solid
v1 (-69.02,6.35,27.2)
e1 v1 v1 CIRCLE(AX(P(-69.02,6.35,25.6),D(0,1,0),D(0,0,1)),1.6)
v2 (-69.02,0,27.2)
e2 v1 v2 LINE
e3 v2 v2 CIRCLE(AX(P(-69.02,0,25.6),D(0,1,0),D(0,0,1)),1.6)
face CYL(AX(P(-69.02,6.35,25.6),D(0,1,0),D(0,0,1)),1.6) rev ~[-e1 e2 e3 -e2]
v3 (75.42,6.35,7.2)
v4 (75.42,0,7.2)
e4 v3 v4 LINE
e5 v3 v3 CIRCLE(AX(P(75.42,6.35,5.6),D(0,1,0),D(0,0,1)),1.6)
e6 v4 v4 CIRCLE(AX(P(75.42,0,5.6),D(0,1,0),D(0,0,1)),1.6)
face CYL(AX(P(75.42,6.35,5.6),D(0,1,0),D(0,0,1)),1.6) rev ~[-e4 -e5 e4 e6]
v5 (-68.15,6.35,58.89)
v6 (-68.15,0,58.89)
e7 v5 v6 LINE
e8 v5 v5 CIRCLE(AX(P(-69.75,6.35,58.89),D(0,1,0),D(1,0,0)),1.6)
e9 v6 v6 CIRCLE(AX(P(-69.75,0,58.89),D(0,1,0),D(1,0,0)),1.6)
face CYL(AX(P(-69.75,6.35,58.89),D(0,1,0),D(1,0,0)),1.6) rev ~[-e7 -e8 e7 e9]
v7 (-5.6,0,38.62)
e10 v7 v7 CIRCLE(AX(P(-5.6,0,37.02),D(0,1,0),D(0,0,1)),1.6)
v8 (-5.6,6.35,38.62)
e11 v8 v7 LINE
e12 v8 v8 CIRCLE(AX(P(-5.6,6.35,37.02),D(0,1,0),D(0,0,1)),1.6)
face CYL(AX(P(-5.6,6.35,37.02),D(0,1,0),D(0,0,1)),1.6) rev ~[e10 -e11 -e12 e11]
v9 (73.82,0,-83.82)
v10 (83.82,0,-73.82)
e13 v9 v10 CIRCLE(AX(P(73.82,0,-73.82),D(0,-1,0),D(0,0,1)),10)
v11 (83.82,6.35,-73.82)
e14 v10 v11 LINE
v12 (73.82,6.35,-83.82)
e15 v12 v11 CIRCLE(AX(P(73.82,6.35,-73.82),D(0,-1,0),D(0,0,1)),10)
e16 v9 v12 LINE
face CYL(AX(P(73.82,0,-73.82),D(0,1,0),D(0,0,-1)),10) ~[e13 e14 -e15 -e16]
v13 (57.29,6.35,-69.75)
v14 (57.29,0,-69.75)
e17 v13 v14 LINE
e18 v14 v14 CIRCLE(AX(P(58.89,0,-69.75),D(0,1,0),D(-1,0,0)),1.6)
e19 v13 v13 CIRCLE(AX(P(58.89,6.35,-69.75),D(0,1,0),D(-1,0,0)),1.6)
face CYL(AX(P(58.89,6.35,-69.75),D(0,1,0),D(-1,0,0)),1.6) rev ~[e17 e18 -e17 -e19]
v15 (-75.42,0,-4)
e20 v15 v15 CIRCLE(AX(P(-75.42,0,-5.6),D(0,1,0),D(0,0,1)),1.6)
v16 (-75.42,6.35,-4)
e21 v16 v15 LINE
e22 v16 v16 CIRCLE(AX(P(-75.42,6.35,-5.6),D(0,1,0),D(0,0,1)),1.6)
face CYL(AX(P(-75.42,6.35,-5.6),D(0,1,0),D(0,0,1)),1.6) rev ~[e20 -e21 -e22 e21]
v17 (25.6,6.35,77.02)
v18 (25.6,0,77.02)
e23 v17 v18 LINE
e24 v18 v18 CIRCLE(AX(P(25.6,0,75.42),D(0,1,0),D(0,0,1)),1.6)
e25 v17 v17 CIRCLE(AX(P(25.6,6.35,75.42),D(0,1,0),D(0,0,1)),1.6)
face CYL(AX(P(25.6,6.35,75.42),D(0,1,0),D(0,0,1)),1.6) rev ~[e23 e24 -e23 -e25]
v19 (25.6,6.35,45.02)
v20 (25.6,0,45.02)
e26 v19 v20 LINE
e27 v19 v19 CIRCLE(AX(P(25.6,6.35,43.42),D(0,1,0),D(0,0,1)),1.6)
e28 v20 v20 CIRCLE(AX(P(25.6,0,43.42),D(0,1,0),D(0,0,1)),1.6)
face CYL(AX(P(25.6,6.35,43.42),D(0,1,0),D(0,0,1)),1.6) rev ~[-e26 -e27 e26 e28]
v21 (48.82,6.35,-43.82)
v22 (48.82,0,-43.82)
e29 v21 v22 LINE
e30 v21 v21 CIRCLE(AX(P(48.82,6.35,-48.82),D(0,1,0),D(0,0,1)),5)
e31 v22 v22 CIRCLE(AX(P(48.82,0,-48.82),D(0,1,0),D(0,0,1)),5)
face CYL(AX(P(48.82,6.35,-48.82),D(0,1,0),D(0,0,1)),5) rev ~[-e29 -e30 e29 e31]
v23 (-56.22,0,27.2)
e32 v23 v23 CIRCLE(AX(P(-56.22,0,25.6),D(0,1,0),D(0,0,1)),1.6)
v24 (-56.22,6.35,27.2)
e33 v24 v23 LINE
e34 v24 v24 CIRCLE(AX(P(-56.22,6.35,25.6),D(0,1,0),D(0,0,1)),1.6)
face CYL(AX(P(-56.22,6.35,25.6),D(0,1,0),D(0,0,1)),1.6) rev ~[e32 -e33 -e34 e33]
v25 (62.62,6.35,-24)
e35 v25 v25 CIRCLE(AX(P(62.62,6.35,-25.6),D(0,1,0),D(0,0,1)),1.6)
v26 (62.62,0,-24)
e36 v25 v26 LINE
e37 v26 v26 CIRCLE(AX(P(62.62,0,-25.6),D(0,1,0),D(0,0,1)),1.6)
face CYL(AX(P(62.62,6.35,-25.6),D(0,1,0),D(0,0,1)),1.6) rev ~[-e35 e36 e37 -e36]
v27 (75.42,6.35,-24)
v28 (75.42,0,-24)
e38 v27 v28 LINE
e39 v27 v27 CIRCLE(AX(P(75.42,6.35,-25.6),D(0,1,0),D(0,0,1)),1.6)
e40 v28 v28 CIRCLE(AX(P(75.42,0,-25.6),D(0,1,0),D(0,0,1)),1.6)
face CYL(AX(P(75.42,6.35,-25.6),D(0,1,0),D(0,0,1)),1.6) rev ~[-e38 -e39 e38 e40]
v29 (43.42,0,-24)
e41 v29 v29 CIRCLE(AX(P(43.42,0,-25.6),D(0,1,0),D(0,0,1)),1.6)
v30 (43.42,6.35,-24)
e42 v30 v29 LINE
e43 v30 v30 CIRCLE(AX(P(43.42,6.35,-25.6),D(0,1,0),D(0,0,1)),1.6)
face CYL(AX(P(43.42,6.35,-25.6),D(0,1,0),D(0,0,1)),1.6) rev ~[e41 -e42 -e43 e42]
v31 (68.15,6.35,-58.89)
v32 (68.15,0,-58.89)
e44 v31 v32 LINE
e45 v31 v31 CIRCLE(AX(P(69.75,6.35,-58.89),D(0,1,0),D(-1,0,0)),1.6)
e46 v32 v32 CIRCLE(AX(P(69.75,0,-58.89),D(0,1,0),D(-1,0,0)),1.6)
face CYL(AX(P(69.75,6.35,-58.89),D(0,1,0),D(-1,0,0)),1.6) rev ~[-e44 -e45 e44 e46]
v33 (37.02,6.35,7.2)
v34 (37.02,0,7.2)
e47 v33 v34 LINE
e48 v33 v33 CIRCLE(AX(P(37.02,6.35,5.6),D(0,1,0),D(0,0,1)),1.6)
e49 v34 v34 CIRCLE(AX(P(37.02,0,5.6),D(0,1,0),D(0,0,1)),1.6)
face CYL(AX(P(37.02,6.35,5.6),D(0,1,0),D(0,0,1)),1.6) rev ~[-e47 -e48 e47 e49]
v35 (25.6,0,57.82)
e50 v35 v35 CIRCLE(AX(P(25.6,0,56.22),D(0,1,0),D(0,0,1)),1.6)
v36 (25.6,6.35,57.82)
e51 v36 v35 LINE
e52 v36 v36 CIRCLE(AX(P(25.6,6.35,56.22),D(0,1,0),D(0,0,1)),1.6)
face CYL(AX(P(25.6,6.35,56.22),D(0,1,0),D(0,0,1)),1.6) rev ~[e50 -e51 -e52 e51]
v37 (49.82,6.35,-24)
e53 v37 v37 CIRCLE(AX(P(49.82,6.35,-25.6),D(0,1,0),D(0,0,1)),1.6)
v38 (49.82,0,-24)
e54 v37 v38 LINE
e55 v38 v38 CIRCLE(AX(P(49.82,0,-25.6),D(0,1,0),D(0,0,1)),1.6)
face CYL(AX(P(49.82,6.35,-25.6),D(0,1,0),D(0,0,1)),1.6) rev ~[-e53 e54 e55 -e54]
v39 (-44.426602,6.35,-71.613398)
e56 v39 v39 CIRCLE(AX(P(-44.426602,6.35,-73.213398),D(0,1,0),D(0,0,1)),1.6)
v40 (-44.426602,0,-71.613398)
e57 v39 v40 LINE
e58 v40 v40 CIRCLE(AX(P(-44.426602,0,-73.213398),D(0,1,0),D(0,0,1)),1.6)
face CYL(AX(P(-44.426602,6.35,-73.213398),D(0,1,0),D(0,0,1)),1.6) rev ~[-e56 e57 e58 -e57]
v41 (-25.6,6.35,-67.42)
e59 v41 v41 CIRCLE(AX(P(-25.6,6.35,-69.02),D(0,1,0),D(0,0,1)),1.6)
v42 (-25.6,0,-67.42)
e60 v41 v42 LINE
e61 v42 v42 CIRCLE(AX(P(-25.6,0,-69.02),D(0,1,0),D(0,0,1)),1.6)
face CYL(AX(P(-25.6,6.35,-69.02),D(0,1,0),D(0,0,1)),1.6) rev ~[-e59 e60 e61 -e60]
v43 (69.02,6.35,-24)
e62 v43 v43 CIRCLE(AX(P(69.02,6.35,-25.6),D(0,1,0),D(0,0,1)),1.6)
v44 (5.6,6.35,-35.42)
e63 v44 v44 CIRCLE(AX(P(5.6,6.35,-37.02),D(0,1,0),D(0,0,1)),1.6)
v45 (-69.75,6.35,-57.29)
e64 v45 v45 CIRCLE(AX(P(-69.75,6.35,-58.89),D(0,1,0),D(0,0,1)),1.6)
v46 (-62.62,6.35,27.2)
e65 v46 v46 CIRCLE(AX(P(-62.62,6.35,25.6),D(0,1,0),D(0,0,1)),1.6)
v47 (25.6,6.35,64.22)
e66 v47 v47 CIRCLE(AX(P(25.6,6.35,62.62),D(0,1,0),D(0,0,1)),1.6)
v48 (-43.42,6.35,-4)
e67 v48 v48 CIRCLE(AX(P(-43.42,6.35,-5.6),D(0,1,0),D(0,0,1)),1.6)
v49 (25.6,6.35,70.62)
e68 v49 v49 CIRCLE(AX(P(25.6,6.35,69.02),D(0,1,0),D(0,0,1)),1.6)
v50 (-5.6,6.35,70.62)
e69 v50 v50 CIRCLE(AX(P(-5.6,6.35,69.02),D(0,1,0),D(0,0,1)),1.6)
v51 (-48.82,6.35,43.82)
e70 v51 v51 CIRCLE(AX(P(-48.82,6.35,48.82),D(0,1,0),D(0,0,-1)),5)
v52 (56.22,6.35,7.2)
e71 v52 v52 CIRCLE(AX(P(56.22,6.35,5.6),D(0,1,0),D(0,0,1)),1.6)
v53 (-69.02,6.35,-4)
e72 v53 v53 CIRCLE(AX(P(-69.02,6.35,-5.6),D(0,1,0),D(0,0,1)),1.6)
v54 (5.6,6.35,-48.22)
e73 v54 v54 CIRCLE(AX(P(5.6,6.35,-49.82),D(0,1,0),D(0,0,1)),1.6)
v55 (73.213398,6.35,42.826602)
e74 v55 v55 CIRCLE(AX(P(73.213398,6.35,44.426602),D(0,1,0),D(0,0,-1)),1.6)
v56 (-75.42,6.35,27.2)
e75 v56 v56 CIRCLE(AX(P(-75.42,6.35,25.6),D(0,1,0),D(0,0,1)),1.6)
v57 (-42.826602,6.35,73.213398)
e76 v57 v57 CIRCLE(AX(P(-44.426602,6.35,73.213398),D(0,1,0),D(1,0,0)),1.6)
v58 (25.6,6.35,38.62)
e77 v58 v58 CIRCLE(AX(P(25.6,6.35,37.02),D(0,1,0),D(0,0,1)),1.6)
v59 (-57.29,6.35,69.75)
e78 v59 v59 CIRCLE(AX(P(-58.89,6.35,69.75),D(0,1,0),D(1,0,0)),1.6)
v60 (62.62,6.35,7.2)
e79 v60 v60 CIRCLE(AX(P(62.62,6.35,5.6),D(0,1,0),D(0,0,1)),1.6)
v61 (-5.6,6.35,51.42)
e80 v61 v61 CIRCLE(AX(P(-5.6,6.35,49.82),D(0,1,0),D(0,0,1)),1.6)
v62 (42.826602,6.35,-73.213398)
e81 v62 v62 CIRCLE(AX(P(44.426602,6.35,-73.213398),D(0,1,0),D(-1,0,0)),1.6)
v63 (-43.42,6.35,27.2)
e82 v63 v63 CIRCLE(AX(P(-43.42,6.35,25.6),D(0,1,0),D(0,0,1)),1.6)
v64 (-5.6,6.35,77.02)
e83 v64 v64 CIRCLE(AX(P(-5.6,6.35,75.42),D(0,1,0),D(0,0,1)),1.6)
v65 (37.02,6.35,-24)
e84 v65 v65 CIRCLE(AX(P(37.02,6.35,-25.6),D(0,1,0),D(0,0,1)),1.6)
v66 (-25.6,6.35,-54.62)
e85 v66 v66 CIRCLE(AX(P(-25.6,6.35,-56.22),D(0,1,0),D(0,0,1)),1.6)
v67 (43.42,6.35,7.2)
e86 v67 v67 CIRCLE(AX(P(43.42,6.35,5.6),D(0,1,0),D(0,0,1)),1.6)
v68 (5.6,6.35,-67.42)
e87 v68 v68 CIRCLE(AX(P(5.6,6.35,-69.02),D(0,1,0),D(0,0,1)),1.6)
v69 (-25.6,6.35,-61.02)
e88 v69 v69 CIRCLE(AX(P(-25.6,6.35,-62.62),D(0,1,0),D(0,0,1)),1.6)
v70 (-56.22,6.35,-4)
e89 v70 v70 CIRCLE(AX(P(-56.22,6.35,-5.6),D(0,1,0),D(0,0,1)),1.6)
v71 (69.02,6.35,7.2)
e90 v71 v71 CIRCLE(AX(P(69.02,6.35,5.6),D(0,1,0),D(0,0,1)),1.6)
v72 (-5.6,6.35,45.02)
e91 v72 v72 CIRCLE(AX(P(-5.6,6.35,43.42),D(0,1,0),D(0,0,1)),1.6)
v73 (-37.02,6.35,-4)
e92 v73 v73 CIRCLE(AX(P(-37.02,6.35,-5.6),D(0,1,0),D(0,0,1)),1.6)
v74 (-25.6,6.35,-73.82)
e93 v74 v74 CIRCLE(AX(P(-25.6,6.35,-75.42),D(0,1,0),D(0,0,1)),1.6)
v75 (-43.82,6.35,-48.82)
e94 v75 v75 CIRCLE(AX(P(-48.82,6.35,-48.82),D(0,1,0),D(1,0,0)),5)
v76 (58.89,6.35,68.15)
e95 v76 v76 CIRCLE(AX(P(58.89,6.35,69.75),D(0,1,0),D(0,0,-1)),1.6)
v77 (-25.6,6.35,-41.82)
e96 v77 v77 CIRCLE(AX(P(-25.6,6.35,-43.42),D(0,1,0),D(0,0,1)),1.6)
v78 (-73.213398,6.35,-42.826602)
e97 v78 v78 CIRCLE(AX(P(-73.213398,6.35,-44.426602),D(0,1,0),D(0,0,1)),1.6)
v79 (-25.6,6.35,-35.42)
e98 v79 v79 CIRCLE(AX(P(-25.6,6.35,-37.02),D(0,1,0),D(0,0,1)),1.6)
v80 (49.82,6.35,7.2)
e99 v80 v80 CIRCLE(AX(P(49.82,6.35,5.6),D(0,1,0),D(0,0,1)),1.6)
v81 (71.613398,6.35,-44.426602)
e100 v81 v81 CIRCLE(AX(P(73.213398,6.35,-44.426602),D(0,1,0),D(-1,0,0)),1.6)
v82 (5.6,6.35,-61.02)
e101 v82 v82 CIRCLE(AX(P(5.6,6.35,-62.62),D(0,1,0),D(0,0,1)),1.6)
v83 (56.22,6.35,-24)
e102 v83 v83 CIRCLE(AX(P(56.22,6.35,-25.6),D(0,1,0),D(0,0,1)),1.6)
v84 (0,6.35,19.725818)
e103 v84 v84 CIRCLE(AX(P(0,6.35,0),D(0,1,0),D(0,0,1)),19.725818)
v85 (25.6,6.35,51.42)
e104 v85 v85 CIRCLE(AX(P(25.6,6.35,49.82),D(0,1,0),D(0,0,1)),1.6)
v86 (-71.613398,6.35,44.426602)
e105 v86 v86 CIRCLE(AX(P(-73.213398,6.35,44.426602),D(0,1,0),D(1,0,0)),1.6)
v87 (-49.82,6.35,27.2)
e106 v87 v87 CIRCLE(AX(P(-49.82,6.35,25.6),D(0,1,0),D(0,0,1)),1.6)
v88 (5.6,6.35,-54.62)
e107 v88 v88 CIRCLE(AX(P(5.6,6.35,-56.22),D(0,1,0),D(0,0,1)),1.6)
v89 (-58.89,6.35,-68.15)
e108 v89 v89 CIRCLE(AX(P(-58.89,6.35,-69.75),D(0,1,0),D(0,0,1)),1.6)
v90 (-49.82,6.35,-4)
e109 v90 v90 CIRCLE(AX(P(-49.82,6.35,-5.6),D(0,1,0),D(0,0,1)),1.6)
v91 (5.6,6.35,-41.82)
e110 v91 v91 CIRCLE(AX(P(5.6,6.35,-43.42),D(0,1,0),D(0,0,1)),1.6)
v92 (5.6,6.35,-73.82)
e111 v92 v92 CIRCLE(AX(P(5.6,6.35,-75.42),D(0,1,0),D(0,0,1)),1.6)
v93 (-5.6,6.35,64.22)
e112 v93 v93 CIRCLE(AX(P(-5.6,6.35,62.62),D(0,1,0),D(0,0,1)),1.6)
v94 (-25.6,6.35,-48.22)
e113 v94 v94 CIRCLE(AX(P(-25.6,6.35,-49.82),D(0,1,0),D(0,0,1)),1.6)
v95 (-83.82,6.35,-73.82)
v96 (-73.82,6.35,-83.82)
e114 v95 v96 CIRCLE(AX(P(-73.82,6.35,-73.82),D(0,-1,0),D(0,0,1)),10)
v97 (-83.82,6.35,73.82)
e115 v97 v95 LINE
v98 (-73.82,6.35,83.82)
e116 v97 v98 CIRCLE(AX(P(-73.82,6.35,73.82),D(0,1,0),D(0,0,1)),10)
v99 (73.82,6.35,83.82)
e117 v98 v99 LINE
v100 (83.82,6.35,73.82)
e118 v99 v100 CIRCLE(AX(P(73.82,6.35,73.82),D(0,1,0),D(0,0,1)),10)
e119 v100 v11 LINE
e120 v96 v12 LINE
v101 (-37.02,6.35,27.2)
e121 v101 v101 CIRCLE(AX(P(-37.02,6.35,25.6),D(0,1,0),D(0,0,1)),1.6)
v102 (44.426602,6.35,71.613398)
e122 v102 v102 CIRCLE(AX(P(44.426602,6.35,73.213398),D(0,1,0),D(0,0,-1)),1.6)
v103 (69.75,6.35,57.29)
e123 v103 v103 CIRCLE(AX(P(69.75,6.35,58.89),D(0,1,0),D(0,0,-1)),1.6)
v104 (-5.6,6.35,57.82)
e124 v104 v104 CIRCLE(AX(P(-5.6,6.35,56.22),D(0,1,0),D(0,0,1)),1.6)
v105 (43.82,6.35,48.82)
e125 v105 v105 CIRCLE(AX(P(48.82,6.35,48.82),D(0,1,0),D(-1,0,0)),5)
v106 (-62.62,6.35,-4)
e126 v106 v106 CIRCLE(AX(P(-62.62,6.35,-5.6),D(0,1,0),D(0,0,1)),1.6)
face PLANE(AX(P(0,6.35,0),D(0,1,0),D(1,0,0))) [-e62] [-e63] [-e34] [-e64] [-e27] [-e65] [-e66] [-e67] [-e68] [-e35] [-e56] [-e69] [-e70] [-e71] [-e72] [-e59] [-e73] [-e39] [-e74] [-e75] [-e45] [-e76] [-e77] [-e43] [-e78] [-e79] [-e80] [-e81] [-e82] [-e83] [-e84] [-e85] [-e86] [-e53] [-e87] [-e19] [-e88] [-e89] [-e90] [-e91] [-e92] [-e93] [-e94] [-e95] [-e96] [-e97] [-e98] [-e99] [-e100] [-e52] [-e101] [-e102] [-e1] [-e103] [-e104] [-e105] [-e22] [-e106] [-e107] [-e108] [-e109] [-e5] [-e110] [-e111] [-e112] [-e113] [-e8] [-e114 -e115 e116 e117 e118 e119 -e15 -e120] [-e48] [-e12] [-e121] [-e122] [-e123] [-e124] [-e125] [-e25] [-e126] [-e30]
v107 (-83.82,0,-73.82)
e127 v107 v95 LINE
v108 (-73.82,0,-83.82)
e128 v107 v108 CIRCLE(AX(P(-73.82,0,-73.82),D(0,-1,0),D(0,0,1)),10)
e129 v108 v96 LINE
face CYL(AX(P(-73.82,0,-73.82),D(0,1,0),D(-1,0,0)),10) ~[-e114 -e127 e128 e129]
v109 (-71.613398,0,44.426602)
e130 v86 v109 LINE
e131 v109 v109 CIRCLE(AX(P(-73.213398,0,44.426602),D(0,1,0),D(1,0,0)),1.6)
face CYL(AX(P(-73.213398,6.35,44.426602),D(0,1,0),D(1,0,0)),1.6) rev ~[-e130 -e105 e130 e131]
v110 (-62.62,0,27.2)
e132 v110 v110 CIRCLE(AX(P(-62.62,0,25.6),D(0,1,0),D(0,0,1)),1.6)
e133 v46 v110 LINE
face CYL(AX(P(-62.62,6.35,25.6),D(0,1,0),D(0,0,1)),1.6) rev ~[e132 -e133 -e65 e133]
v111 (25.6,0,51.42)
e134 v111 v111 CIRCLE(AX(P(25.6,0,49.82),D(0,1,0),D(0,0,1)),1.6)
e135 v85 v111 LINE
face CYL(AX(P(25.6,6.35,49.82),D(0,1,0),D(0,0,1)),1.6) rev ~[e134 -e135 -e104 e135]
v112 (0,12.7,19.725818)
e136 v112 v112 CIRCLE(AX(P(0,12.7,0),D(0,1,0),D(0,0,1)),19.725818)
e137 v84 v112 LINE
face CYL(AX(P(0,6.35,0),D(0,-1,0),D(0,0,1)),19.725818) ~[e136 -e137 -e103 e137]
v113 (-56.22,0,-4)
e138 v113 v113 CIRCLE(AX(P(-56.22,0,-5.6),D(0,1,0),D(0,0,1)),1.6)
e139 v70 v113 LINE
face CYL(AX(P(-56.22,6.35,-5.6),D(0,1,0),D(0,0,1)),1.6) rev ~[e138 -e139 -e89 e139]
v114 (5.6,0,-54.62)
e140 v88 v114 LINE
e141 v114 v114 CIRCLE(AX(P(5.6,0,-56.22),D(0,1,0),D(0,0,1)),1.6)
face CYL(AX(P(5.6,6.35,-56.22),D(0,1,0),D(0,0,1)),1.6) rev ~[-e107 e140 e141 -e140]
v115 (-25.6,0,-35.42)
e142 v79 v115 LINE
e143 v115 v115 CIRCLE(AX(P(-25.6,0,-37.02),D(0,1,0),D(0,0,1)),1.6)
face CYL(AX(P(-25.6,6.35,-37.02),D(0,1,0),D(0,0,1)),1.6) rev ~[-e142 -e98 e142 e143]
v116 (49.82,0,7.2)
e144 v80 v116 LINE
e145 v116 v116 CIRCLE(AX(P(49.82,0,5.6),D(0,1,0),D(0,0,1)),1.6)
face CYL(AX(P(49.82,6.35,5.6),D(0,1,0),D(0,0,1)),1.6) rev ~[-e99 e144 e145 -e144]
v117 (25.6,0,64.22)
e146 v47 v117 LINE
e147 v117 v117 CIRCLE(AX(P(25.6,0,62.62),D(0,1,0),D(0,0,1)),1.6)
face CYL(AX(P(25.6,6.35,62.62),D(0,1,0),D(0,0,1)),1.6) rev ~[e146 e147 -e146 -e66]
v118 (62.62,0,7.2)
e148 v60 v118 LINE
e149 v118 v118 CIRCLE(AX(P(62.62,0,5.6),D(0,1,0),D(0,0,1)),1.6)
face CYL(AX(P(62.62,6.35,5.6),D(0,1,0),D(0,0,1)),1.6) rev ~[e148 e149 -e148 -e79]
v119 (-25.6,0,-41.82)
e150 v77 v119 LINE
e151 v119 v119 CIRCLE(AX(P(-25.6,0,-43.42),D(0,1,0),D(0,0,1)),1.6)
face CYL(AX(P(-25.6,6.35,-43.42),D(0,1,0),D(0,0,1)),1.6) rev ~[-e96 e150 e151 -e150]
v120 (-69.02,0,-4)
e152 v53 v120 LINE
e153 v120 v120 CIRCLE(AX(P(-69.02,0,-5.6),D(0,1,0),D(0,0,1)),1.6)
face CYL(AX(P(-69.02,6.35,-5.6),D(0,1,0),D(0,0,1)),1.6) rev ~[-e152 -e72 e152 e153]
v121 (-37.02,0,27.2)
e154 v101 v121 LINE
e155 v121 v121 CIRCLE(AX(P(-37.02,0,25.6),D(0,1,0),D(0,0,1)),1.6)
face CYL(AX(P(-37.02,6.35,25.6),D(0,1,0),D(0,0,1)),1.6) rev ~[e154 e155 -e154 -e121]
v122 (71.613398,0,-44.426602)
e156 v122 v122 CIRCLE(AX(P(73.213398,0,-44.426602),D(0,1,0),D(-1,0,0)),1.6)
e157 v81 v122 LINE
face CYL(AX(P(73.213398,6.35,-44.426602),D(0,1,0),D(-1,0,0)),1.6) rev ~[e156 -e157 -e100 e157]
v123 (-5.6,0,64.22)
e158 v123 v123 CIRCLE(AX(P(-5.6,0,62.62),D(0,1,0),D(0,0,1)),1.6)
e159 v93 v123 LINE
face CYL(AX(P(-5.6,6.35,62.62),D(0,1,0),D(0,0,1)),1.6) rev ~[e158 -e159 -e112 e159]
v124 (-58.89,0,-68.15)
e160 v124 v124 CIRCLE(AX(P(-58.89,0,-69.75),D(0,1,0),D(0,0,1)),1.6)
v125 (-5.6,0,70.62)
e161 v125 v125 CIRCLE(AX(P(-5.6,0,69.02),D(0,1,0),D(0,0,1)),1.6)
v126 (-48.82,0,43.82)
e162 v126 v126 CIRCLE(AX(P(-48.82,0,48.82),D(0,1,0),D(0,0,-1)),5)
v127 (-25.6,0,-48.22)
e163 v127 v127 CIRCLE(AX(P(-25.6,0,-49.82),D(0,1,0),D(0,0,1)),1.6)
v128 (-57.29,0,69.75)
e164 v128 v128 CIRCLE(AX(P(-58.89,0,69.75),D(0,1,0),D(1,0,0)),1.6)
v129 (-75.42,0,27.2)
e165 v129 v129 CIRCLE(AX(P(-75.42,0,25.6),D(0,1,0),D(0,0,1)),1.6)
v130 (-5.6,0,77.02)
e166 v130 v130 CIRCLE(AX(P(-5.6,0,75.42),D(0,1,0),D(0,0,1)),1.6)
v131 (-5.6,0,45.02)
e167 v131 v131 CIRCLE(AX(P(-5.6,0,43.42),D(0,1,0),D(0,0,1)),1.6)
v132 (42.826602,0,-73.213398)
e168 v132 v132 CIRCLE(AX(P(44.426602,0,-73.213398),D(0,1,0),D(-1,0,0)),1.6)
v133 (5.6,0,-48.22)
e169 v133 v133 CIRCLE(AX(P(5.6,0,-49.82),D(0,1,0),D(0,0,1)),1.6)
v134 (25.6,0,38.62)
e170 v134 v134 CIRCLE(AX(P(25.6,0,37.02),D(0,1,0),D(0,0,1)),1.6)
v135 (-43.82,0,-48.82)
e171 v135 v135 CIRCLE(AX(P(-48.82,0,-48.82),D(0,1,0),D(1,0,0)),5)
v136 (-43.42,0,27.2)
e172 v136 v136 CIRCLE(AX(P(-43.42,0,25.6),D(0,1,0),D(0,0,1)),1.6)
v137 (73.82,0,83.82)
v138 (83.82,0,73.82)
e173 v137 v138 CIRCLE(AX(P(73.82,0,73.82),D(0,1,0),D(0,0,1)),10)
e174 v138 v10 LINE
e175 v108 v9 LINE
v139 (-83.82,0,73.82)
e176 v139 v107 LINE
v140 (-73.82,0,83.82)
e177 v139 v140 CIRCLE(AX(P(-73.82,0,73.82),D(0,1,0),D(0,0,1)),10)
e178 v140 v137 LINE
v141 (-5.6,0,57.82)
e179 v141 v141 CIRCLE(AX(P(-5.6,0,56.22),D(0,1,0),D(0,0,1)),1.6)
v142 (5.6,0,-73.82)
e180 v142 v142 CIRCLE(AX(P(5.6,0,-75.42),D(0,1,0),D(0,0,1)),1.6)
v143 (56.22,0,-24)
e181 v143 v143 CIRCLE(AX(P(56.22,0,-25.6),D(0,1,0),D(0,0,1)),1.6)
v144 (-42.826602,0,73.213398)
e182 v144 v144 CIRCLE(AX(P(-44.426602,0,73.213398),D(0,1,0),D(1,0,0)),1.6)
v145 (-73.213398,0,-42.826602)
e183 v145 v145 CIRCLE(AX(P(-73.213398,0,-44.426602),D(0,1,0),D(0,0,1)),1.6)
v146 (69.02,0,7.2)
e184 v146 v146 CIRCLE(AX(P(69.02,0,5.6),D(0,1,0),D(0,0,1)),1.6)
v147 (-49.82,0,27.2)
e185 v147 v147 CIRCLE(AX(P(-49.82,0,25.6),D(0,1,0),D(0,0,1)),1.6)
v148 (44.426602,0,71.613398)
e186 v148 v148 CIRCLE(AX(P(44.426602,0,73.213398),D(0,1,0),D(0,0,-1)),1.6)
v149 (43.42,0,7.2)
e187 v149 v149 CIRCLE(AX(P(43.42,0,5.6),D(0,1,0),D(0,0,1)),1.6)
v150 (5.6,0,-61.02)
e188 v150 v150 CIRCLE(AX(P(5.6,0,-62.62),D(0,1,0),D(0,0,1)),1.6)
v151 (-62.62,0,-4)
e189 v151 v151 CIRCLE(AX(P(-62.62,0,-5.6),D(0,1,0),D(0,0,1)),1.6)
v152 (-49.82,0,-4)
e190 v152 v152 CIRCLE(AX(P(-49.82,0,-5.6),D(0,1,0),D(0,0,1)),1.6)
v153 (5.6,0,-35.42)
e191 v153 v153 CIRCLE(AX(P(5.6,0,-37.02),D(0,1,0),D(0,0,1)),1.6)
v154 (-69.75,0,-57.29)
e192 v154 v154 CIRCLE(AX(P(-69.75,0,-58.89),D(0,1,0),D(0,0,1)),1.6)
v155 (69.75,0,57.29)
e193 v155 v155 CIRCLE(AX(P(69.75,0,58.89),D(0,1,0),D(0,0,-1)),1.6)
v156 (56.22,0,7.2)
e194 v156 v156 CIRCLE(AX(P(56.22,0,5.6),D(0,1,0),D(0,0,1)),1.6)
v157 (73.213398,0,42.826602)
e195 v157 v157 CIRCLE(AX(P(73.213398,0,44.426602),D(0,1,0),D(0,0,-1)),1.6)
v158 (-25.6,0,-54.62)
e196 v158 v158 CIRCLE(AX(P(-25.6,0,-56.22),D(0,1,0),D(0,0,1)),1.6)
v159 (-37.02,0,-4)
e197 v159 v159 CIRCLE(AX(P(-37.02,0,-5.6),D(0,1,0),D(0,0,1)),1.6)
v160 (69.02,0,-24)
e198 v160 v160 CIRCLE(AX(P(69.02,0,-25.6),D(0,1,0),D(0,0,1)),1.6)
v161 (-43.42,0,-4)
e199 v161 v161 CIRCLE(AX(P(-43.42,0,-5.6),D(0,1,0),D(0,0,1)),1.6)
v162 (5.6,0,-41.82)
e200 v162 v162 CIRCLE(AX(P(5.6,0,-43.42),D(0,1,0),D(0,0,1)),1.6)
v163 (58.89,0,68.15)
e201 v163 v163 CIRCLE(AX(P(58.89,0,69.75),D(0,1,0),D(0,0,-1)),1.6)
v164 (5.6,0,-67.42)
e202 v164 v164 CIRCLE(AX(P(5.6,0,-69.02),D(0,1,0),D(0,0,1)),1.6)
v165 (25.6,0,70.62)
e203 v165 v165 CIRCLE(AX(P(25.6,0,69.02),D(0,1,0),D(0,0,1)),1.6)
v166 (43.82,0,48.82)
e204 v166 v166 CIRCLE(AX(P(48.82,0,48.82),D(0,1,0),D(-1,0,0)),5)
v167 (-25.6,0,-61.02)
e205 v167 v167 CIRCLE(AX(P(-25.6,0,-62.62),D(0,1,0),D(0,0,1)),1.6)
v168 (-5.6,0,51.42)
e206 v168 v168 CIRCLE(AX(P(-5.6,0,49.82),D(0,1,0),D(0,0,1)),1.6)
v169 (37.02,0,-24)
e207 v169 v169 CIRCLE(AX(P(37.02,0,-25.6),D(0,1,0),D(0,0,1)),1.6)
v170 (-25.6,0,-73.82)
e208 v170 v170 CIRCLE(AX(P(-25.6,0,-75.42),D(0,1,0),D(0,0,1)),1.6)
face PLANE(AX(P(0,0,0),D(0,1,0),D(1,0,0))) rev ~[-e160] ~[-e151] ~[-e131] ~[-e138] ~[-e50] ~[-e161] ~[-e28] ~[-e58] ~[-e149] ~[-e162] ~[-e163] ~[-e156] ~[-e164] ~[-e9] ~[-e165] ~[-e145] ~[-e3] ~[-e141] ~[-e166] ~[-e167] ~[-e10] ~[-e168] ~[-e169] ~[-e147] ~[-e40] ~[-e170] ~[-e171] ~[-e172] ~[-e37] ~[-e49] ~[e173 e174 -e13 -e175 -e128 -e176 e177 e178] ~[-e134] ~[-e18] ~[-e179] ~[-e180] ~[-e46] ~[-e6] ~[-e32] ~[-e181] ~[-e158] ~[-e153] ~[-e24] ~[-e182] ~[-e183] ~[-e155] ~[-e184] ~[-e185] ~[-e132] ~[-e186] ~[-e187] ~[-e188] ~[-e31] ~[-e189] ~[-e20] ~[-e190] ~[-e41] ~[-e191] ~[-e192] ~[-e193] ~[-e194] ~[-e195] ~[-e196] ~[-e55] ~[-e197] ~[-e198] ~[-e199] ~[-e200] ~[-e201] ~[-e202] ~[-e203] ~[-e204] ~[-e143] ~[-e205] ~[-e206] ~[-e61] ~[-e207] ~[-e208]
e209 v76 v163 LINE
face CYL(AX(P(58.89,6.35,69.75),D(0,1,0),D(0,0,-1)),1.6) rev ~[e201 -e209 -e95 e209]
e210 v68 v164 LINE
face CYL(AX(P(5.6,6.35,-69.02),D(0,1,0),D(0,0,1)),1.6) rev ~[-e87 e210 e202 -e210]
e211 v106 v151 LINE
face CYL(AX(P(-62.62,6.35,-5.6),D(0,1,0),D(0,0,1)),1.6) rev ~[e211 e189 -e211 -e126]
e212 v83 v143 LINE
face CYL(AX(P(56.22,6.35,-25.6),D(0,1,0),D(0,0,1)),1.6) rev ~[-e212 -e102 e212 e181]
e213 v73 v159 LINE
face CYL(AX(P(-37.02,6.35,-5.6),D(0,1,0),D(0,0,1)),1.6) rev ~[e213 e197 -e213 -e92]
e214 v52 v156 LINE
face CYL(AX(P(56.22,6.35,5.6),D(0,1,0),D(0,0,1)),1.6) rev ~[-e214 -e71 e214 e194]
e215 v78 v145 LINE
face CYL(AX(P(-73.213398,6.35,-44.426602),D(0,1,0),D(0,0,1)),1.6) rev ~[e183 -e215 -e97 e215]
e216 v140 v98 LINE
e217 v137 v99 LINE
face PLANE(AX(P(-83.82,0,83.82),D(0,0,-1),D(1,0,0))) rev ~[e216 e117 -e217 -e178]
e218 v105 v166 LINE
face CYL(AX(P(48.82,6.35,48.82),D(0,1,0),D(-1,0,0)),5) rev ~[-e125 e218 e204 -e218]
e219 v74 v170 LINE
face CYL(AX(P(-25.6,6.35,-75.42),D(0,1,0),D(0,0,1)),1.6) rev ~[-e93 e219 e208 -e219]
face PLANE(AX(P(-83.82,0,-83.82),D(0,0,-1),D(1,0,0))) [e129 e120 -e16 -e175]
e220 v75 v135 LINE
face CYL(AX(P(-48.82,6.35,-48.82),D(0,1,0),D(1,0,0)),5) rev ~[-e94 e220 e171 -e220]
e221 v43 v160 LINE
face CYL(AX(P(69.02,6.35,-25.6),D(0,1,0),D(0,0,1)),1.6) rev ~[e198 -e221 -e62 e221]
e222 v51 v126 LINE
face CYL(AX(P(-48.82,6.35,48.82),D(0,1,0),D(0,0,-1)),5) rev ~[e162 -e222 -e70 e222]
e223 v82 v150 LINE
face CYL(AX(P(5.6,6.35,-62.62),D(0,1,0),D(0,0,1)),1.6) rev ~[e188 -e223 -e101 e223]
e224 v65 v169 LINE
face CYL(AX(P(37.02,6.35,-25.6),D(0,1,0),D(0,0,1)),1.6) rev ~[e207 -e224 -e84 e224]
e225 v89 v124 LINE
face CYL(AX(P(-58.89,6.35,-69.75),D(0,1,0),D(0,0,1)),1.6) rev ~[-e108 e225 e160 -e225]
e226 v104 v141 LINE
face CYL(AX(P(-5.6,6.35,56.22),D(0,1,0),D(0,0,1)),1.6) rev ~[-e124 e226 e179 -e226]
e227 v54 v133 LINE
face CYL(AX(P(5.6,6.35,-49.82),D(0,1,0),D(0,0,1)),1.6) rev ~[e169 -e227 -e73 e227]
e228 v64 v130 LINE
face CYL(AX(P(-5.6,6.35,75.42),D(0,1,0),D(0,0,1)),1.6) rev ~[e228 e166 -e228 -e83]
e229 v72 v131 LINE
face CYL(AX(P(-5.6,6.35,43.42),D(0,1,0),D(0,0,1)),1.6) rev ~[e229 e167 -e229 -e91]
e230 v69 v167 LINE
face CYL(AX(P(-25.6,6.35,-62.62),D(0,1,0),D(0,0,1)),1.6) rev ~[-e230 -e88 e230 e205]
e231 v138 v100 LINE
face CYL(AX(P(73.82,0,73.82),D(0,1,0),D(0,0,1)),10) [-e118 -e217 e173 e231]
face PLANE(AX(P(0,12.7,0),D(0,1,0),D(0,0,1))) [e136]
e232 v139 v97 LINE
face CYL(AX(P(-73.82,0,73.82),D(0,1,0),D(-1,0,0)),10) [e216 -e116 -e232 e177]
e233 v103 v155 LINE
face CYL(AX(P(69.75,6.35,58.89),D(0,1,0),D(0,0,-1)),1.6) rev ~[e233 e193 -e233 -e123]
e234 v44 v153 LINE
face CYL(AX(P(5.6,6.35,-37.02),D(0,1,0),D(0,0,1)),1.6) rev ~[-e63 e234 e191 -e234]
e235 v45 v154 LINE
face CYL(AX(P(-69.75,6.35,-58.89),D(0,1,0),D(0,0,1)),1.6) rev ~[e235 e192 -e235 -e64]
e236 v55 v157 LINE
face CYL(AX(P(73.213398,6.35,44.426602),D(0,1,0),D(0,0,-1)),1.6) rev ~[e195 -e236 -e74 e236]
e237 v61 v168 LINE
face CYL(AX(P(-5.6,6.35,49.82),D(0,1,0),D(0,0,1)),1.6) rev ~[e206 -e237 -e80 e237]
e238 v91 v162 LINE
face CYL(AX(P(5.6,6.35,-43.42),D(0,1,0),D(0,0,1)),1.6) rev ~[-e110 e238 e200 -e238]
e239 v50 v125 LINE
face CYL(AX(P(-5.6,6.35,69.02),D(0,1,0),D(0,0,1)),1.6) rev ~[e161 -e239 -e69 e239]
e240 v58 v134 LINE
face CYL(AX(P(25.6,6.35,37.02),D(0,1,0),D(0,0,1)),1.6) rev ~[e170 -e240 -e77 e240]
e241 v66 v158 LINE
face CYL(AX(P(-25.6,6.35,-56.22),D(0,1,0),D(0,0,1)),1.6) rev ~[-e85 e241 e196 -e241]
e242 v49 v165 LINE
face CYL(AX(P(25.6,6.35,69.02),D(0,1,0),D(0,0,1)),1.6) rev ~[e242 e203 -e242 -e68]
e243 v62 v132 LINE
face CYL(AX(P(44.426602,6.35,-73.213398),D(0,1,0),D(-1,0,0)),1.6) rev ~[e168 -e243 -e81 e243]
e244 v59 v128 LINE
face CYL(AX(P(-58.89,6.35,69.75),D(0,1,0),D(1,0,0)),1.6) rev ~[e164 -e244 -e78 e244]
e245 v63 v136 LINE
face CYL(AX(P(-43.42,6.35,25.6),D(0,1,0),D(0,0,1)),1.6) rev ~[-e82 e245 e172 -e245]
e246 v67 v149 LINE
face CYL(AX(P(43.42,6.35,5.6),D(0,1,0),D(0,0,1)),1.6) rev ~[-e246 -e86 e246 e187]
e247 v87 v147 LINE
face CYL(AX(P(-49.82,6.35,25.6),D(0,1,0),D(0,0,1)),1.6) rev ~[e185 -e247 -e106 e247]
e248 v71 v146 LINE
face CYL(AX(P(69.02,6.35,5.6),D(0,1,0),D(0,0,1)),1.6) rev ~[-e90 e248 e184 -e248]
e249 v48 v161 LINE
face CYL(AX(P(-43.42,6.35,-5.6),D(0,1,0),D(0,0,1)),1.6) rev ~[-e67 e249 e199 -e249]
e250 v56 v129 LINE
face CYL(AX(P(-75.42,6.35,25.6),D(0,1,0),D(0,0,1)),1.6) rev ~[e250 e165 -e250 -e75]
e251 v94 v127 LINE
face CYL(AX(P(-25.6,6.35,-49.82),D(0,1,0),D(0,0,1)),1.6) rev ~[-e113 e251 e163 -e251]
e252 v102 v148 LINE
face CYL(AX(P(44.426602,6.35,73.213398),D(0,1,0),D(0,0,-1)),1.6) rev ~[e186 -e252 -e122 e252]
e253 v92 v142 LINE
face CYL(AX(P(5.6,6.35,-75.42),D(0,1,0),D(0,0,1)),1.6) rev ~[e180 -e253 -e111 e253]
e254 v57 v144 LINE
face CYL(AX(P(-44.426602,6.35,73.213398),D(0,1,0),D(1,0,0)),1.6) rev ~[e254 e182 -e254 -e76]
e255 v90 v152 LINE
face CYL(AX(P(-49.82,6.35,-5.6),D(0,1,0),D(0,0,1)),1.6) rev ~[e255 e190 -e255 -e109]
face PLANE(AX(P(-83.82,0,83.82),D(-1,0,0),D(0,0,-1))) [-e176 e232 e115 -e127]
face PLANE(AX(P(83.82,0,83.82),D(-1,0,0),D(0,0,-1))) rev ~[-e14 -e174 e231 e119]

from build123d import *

# Parameters (mm, degrees)
SKETCH1_W           = 167.64
SKETCH1_H           = 167.64
BOSS_EXTRUDE1_DEPTH = 6.35
SKETCH2_R           = 19.725818268
BOSS_EXTRUDE2_DEPTH = 6.35
SKETCH3_R           = 1.6
CUT_EXTRUDE1_DEPTH  = 10
SKETCH5_R           = 1.6
CUT_EXTRUDE3_DEPTH  = 119.709339565
CIRPATTERN2_COUNT   = 4
SKETCH6_R           = 1.6
CUT_EXTRUDE4_DEPTH  = 119.709339565
CIRPATTERN3_COUNT   = 4
SKETCH7_R           = 5
CUT_EXTRUDE5_DEPTH  = 119.709339565
CIRPATTERN4_COUNT   = 4
FILLET1_R           = 10


with BuildPart() as part:
    # Sketch1 → Boss-Extrude1 (new body)
    with BuildSketch(Plane(origin=(0, 0, 0), x_dir=(1, 0, 0), z_dir=(0, 1, 0))):
        Rectangle(SKETCH1_W, SKETCH1_H)
    extrude(amount=BOSS_EXTRUDE1_DEPTH)

    # Sketch2 → Boss-Extrude2 (add)
    with BuildSketch(Plane(origin=(0, 6.35, 0), x_dir=(1, 0, 0), z_dir=(0, 1, 0))):
        with Locations(Location((0, 0, 0), (0, 0, 270))):
            Circle(SKETCH2_R)
    extrude(amount=BOSS_EXTRUDE2_DEPTH)

    # Sketch3 → Cut-Extrude1 (cut)
    with BuildSketch(Plane(origin=(0, 6.35, 0), x_dir=(1, 0, 0), z_dir=(0, 1, 0))):
        with Locations(Location((5.59999998, 75.42, 0), (0, 0, 270))):
            Circle(SKETCH3_R)
        with Locations(Location((-25.60000002, 75.42, 0), (0, 0, 270))):
            Circle(SKETCH3_R)
        with Locations(Location((5.59999998, 69.02, 0), (0, 0, 270))):
            Circle(SKETCH3_R)
        with Locations(Location((-25.60000002, 69.02, 0), (0, 0, 270))):
            Circle(SKETCH3_R)
        with Locations(Location((5.59999998, 62.62, 0), (0, 0, 270))):
            Circle(SKETCH3_R)
        with Locations(Location((-25.60000002, 62.62, 0), (0, 0, 270))):
            Circle(SKETCH3_R)
        with Locations(Location((5.59999998, 56.22, 0), (0, 0, 270))):
            Circle(SKETCH3_R)
        with Locations(Location((-25.60000002, 56.22, 0), (0, 0, 270))):
            Circle(SKETCH3_R)
        with Locations(Location((5.59999998, 49.82, 0), (0, 0, 270))):
            Circle(SKETCH3_R)
        with Locations(Location((-25.60000002, 49.82, 0), (0, 0, 270))):
            Circle(SKETCH3_R)
        with Locations(Location((5.59999998, 43.42, 0), (0, 0, 270))):
            Circle(SKETCH3_R)
        with Locations(Location((-25.60000002, 43.42, 0), (0, 0, 270))):
            Circle(SKETCH3_R)
        with Locations(Location((5.59999998, 37.02, 0), (0, 0, 270))):
            Circle(SKETCH3_R)
        with Locations(Location((-25.60000002, 37.02, 0), (0, 0, 270))):
            Circle(SKETCH3_R)
        with Locations(Location((75.42, -5.59999998, 0), (0, 0, 270))):
            Circle(SKETCH3_R)
        with Locations(Location((75.42, 25.60000002, 0), (0, 0, 270))):
            Circle(SKETCH3_R)
        with Locations(Location((69.02, -5.59999998, 0), (0, 0, 270))):
            Circle(SKETCH3_R)
        with Locations(Location((62.62, -5.59999998, 0), (0, 0, 270))):
            Circle(SKETCH3_R)
        with Locations(Location((56.22, -5.59999998, 0), (0, 0, 270))):
            Circle(SKETCH3_R)
        with Locations(Location((49.82, -5.59999998, 0), (0, 0, 270))):
            Circle(SKETCH3_R)
        with Locations(Location((43.42, -5.59999998, 0), (0, 0, 270))):
            Circle(SKETCH3_R)
        with Locations(Location((37.02, -5.59999998, 0), (0, 0, 270))):
            Circle(SKETCH3_R)
        with Locations(Location((69.02, 25.60000002, 0), (0, 0, 270))):
            Circle(SKETCH3_R)
        with Locations(Location((62.62, 25.60000002, 0), (0, 0, 270))):
            Circle(SKETCH3_R)
        with Locations(Location((56.22, 25.60000002, 0), (0, 0, 270))):
            Circle(SKETCH3_R)
        with Locations(Location((49.82, 25.60000002, 0), (0, 0, 270))):
            Circle(SKETCH3_R)
        with Locations(Location((43.42, 25.60000002, 0), (0, 0, 270))):
            Circle(SKETCH3_R)
        with Locations(Location((37.02, 25.60000002, 0), (0, 0, 270))):
            Circle(SKETCH3_R)
        with Locations(Location((-5.59999998, -75.42, 0), (0, 0, 270))):
            Circle(SKETCH3_R)
        with Locations(Location((25.60000002, -75.42, 0), (0, 0, 270))):
            Circle(SKETCH3_R)
        with Locations(Location((-5.59999998, -69.02, 0), (0, 0, 270))):
            Circle(SKETCH3_R)
        with Locations(Location((-5.59999998, -62.62, 0), (0, 0, 270))):
            Circle(SKETCH3_R)
        with Locations(Location((-5.59999998, -56.22, 0), (0, 0, 270))):
            Circle(SKETCH3_R)
        with Locations(Location((-5.59999998, -49.82, 0), (0, 0, 270))):
            Circle(SKETCH3_R)
        with Locations(Location((-5.59999998, -43.42, 0), (0, 0, 270))):
            Circle(SKETCH3_R)
        with Locations(Location((-5.59999998, -37.02, 0), (0, 0, 270))):
            Circle(SKETCH3_R)
        with Locations(Location((25.60000002, -69.02, 0), (0, 0, 270))):
            Circle(SKETCH3_R)
        with Locations(Location((25.60000002, -62.62, 0), (0, 0, 270))):
            Circle(SKETCH3_R)
        with Locations(Location((25.60000002, -56.22, 0), (0, 0, 270))):
            Circle(SKETCH3_R)
        with Locations(Location((25.60000002, -49.82, 0), (0, 0, 270))):
            Circle(SKETCH3_R)
        with Locations(Location((25.60000002, -43.42, 0), (0, 0, 270))):
            Circle(SKETCH3_R)
        with Locations(Location((25.60000002, -37.02, 0), (0, 0, 270))):
            Circle(SKETCH3_R)
        with Locations(Location((-75.42, 5.59999998, 0), (0, 0, 270))):
            Circle(SKETCH3_R)
        with Locations(Location((-75.42, -25.60000002, 0), (0, 0, 270))):
            Circle(SKETCH3_R)
        with Locations(Location((-69.02, 5.59999998, 0), (0, 0, 270))):
            Circle(SKETCH3_R)
        with Locations(Location((-62.62, 5.59999998, 0), (0, 0, 270))):
            Circle(SKETCH3_R)
        with Locations(Location((-56.22, 5.59999998, 0), (0, 0, 270))):
            Circle(SKETCH3_R)
        with Locations(Location((-49.82, 5.59999998, 0), (0, 0, 270))):
            Circle(SKETCH3_R)
        with Locations(Location((-43.42, 5.59999998, 0), (0, 0, 270))):
            Circle(SKETCH3_R)
        with Locations(Location((-37.02, 5.59999998, 0), (0, 0, 270))):
            Circle(SKETCH3_R)
        with Locations(Location((-69.02, -25.60000002, 0), (0, 0, 270))):
            Circle(SKETCH3_R)
        with Locations(Location((-62.62, -25.60000002, 0), (0, 0, 270))):
            Circle(SKETCH3_R)
        with Locations(Location((-56.22, -25.60000002, 0), (0, 0, 270))):
            Circle(SKETCH3_R)
        with Locations(Location((-49.82, -25.60000002, 0), (0, 0, 270))):
            Circle(SKETCH3_R)
        with Locations(Location((-43.42, -25.60000002, 0), (0, 0, 270))):
            Circle(SKETCH3_R)
        with Locations(Location((-37.02, -25.60000002, 0), (0, 0, 270))):
            Circle(SKETCH3_R)
    extrude(amount=-CUT_EXTRUDE1_DEPTH, mode=Mode.SUBTRACT)

    # Sketch5 → Cut-Extrude3 (cut, through all)
    with BuildSketch(Plane(origin=(0, 6.35, 0), x_dir=(1, 0, 0), z_dir=(0, 1, 0))):
        with Locations(Location((-69.75, 58.89, 0), (0, 0, 270))):
            Circle(SKETCH5_R)
        with Locations(Location((-58.89, 69.75, 0), (0, 0, 270))):
            Circle(SKETCH5_R)
    cut_extrude3 = extrude(amount=-CUT_EXTRUDE3_DEPTH, mode=Mode.SUBTRACT)

    # CirPattern2: Cut-Extrude3 ×4 about axis
    cirpattern2_axis = Axis((0, 0, 0), (0, 1, 0))
    for i in range(1, CIRPATTERN2_COUNT):
        add(cut_extrude3.rotate(cirpattern2_axis, i * 360 / CIRPATTERN2_COUNT), mode=Mode.SUBTRACT)

    # Sketch6 → Cut-Extrude4 (cut, through all)
    with BuildSketch(Plane(origin=(0, 6.35, 0), x_dir=(1, 0, 0), z_dir=(0, 1, 0))):
        with Locations(Location((-44.426601718, 73.213398282, 0), (0, 0, 270))):
            Circle(SKETCH6_R)
        with Locations(Location((-73.213398282, 44.426601718, 0), (0, 0, 270))):
            Circle(SKETCH6_R)
    cut_extrude4 = extrude(amount=-CUT_EXTRUDE4_DEPTH, mode=Mode.SUBTRACT)

    # CirPattern3: Cut-Extrude4 ×4 about axis
    cirpattern3_axis = Axis((0, 0, 0), (0, 1, 0))
    for i in range(1, CIRPATTERN3_COUNT):
        add(cut_extrude4.rotate(cirpattern3_axis, i * 360 / CIRPATTERN3_COUNT), mode=Mode.SUBTRACT)

    # Sketch7 → Cut-Extrude5 (cut, through all)
    with BuildSketch(Plane(origin=(0, 6.35, 0), x_dir=(1, 0, 0), z_dir=(0, 1, 0))):
        with Locations(Location((48.82, 48.82, 0), (0, 0, 270))):
            Circle(SKETCH7_R)
    cut_extrude5 = extrude(amount=-CUT_EXTRUDE5_DEPTH, mode=Mode.SUBTRACT)

    # CirPattern4: Cut-Extrude5 ×4 about axis
    cirpattern4_axis = Axis((0, 0, 0), (0, 1, 0))
    for i in range(1, CIRPATTERN4_COUNT):
        add(cut_extrude5.rotate(cirpattern4_axis, i * 360 / CIRPATTERN4_COUNT), mode=Mode.SUBTRACT)

    # Fillet1
    fillet1_edges = [part.edges().sort_by_distance(p)[0] for p in [
        (83.82, 3.175, 83.82),
        (-83.82, 3.175, 83.82),
        (-83.82, 3.175, -83.82),
        (83.82, 3.175, -83.82),
    ]]
    fillet(fillet1_edges, radius=FILLET1_R)


solid = part.part
